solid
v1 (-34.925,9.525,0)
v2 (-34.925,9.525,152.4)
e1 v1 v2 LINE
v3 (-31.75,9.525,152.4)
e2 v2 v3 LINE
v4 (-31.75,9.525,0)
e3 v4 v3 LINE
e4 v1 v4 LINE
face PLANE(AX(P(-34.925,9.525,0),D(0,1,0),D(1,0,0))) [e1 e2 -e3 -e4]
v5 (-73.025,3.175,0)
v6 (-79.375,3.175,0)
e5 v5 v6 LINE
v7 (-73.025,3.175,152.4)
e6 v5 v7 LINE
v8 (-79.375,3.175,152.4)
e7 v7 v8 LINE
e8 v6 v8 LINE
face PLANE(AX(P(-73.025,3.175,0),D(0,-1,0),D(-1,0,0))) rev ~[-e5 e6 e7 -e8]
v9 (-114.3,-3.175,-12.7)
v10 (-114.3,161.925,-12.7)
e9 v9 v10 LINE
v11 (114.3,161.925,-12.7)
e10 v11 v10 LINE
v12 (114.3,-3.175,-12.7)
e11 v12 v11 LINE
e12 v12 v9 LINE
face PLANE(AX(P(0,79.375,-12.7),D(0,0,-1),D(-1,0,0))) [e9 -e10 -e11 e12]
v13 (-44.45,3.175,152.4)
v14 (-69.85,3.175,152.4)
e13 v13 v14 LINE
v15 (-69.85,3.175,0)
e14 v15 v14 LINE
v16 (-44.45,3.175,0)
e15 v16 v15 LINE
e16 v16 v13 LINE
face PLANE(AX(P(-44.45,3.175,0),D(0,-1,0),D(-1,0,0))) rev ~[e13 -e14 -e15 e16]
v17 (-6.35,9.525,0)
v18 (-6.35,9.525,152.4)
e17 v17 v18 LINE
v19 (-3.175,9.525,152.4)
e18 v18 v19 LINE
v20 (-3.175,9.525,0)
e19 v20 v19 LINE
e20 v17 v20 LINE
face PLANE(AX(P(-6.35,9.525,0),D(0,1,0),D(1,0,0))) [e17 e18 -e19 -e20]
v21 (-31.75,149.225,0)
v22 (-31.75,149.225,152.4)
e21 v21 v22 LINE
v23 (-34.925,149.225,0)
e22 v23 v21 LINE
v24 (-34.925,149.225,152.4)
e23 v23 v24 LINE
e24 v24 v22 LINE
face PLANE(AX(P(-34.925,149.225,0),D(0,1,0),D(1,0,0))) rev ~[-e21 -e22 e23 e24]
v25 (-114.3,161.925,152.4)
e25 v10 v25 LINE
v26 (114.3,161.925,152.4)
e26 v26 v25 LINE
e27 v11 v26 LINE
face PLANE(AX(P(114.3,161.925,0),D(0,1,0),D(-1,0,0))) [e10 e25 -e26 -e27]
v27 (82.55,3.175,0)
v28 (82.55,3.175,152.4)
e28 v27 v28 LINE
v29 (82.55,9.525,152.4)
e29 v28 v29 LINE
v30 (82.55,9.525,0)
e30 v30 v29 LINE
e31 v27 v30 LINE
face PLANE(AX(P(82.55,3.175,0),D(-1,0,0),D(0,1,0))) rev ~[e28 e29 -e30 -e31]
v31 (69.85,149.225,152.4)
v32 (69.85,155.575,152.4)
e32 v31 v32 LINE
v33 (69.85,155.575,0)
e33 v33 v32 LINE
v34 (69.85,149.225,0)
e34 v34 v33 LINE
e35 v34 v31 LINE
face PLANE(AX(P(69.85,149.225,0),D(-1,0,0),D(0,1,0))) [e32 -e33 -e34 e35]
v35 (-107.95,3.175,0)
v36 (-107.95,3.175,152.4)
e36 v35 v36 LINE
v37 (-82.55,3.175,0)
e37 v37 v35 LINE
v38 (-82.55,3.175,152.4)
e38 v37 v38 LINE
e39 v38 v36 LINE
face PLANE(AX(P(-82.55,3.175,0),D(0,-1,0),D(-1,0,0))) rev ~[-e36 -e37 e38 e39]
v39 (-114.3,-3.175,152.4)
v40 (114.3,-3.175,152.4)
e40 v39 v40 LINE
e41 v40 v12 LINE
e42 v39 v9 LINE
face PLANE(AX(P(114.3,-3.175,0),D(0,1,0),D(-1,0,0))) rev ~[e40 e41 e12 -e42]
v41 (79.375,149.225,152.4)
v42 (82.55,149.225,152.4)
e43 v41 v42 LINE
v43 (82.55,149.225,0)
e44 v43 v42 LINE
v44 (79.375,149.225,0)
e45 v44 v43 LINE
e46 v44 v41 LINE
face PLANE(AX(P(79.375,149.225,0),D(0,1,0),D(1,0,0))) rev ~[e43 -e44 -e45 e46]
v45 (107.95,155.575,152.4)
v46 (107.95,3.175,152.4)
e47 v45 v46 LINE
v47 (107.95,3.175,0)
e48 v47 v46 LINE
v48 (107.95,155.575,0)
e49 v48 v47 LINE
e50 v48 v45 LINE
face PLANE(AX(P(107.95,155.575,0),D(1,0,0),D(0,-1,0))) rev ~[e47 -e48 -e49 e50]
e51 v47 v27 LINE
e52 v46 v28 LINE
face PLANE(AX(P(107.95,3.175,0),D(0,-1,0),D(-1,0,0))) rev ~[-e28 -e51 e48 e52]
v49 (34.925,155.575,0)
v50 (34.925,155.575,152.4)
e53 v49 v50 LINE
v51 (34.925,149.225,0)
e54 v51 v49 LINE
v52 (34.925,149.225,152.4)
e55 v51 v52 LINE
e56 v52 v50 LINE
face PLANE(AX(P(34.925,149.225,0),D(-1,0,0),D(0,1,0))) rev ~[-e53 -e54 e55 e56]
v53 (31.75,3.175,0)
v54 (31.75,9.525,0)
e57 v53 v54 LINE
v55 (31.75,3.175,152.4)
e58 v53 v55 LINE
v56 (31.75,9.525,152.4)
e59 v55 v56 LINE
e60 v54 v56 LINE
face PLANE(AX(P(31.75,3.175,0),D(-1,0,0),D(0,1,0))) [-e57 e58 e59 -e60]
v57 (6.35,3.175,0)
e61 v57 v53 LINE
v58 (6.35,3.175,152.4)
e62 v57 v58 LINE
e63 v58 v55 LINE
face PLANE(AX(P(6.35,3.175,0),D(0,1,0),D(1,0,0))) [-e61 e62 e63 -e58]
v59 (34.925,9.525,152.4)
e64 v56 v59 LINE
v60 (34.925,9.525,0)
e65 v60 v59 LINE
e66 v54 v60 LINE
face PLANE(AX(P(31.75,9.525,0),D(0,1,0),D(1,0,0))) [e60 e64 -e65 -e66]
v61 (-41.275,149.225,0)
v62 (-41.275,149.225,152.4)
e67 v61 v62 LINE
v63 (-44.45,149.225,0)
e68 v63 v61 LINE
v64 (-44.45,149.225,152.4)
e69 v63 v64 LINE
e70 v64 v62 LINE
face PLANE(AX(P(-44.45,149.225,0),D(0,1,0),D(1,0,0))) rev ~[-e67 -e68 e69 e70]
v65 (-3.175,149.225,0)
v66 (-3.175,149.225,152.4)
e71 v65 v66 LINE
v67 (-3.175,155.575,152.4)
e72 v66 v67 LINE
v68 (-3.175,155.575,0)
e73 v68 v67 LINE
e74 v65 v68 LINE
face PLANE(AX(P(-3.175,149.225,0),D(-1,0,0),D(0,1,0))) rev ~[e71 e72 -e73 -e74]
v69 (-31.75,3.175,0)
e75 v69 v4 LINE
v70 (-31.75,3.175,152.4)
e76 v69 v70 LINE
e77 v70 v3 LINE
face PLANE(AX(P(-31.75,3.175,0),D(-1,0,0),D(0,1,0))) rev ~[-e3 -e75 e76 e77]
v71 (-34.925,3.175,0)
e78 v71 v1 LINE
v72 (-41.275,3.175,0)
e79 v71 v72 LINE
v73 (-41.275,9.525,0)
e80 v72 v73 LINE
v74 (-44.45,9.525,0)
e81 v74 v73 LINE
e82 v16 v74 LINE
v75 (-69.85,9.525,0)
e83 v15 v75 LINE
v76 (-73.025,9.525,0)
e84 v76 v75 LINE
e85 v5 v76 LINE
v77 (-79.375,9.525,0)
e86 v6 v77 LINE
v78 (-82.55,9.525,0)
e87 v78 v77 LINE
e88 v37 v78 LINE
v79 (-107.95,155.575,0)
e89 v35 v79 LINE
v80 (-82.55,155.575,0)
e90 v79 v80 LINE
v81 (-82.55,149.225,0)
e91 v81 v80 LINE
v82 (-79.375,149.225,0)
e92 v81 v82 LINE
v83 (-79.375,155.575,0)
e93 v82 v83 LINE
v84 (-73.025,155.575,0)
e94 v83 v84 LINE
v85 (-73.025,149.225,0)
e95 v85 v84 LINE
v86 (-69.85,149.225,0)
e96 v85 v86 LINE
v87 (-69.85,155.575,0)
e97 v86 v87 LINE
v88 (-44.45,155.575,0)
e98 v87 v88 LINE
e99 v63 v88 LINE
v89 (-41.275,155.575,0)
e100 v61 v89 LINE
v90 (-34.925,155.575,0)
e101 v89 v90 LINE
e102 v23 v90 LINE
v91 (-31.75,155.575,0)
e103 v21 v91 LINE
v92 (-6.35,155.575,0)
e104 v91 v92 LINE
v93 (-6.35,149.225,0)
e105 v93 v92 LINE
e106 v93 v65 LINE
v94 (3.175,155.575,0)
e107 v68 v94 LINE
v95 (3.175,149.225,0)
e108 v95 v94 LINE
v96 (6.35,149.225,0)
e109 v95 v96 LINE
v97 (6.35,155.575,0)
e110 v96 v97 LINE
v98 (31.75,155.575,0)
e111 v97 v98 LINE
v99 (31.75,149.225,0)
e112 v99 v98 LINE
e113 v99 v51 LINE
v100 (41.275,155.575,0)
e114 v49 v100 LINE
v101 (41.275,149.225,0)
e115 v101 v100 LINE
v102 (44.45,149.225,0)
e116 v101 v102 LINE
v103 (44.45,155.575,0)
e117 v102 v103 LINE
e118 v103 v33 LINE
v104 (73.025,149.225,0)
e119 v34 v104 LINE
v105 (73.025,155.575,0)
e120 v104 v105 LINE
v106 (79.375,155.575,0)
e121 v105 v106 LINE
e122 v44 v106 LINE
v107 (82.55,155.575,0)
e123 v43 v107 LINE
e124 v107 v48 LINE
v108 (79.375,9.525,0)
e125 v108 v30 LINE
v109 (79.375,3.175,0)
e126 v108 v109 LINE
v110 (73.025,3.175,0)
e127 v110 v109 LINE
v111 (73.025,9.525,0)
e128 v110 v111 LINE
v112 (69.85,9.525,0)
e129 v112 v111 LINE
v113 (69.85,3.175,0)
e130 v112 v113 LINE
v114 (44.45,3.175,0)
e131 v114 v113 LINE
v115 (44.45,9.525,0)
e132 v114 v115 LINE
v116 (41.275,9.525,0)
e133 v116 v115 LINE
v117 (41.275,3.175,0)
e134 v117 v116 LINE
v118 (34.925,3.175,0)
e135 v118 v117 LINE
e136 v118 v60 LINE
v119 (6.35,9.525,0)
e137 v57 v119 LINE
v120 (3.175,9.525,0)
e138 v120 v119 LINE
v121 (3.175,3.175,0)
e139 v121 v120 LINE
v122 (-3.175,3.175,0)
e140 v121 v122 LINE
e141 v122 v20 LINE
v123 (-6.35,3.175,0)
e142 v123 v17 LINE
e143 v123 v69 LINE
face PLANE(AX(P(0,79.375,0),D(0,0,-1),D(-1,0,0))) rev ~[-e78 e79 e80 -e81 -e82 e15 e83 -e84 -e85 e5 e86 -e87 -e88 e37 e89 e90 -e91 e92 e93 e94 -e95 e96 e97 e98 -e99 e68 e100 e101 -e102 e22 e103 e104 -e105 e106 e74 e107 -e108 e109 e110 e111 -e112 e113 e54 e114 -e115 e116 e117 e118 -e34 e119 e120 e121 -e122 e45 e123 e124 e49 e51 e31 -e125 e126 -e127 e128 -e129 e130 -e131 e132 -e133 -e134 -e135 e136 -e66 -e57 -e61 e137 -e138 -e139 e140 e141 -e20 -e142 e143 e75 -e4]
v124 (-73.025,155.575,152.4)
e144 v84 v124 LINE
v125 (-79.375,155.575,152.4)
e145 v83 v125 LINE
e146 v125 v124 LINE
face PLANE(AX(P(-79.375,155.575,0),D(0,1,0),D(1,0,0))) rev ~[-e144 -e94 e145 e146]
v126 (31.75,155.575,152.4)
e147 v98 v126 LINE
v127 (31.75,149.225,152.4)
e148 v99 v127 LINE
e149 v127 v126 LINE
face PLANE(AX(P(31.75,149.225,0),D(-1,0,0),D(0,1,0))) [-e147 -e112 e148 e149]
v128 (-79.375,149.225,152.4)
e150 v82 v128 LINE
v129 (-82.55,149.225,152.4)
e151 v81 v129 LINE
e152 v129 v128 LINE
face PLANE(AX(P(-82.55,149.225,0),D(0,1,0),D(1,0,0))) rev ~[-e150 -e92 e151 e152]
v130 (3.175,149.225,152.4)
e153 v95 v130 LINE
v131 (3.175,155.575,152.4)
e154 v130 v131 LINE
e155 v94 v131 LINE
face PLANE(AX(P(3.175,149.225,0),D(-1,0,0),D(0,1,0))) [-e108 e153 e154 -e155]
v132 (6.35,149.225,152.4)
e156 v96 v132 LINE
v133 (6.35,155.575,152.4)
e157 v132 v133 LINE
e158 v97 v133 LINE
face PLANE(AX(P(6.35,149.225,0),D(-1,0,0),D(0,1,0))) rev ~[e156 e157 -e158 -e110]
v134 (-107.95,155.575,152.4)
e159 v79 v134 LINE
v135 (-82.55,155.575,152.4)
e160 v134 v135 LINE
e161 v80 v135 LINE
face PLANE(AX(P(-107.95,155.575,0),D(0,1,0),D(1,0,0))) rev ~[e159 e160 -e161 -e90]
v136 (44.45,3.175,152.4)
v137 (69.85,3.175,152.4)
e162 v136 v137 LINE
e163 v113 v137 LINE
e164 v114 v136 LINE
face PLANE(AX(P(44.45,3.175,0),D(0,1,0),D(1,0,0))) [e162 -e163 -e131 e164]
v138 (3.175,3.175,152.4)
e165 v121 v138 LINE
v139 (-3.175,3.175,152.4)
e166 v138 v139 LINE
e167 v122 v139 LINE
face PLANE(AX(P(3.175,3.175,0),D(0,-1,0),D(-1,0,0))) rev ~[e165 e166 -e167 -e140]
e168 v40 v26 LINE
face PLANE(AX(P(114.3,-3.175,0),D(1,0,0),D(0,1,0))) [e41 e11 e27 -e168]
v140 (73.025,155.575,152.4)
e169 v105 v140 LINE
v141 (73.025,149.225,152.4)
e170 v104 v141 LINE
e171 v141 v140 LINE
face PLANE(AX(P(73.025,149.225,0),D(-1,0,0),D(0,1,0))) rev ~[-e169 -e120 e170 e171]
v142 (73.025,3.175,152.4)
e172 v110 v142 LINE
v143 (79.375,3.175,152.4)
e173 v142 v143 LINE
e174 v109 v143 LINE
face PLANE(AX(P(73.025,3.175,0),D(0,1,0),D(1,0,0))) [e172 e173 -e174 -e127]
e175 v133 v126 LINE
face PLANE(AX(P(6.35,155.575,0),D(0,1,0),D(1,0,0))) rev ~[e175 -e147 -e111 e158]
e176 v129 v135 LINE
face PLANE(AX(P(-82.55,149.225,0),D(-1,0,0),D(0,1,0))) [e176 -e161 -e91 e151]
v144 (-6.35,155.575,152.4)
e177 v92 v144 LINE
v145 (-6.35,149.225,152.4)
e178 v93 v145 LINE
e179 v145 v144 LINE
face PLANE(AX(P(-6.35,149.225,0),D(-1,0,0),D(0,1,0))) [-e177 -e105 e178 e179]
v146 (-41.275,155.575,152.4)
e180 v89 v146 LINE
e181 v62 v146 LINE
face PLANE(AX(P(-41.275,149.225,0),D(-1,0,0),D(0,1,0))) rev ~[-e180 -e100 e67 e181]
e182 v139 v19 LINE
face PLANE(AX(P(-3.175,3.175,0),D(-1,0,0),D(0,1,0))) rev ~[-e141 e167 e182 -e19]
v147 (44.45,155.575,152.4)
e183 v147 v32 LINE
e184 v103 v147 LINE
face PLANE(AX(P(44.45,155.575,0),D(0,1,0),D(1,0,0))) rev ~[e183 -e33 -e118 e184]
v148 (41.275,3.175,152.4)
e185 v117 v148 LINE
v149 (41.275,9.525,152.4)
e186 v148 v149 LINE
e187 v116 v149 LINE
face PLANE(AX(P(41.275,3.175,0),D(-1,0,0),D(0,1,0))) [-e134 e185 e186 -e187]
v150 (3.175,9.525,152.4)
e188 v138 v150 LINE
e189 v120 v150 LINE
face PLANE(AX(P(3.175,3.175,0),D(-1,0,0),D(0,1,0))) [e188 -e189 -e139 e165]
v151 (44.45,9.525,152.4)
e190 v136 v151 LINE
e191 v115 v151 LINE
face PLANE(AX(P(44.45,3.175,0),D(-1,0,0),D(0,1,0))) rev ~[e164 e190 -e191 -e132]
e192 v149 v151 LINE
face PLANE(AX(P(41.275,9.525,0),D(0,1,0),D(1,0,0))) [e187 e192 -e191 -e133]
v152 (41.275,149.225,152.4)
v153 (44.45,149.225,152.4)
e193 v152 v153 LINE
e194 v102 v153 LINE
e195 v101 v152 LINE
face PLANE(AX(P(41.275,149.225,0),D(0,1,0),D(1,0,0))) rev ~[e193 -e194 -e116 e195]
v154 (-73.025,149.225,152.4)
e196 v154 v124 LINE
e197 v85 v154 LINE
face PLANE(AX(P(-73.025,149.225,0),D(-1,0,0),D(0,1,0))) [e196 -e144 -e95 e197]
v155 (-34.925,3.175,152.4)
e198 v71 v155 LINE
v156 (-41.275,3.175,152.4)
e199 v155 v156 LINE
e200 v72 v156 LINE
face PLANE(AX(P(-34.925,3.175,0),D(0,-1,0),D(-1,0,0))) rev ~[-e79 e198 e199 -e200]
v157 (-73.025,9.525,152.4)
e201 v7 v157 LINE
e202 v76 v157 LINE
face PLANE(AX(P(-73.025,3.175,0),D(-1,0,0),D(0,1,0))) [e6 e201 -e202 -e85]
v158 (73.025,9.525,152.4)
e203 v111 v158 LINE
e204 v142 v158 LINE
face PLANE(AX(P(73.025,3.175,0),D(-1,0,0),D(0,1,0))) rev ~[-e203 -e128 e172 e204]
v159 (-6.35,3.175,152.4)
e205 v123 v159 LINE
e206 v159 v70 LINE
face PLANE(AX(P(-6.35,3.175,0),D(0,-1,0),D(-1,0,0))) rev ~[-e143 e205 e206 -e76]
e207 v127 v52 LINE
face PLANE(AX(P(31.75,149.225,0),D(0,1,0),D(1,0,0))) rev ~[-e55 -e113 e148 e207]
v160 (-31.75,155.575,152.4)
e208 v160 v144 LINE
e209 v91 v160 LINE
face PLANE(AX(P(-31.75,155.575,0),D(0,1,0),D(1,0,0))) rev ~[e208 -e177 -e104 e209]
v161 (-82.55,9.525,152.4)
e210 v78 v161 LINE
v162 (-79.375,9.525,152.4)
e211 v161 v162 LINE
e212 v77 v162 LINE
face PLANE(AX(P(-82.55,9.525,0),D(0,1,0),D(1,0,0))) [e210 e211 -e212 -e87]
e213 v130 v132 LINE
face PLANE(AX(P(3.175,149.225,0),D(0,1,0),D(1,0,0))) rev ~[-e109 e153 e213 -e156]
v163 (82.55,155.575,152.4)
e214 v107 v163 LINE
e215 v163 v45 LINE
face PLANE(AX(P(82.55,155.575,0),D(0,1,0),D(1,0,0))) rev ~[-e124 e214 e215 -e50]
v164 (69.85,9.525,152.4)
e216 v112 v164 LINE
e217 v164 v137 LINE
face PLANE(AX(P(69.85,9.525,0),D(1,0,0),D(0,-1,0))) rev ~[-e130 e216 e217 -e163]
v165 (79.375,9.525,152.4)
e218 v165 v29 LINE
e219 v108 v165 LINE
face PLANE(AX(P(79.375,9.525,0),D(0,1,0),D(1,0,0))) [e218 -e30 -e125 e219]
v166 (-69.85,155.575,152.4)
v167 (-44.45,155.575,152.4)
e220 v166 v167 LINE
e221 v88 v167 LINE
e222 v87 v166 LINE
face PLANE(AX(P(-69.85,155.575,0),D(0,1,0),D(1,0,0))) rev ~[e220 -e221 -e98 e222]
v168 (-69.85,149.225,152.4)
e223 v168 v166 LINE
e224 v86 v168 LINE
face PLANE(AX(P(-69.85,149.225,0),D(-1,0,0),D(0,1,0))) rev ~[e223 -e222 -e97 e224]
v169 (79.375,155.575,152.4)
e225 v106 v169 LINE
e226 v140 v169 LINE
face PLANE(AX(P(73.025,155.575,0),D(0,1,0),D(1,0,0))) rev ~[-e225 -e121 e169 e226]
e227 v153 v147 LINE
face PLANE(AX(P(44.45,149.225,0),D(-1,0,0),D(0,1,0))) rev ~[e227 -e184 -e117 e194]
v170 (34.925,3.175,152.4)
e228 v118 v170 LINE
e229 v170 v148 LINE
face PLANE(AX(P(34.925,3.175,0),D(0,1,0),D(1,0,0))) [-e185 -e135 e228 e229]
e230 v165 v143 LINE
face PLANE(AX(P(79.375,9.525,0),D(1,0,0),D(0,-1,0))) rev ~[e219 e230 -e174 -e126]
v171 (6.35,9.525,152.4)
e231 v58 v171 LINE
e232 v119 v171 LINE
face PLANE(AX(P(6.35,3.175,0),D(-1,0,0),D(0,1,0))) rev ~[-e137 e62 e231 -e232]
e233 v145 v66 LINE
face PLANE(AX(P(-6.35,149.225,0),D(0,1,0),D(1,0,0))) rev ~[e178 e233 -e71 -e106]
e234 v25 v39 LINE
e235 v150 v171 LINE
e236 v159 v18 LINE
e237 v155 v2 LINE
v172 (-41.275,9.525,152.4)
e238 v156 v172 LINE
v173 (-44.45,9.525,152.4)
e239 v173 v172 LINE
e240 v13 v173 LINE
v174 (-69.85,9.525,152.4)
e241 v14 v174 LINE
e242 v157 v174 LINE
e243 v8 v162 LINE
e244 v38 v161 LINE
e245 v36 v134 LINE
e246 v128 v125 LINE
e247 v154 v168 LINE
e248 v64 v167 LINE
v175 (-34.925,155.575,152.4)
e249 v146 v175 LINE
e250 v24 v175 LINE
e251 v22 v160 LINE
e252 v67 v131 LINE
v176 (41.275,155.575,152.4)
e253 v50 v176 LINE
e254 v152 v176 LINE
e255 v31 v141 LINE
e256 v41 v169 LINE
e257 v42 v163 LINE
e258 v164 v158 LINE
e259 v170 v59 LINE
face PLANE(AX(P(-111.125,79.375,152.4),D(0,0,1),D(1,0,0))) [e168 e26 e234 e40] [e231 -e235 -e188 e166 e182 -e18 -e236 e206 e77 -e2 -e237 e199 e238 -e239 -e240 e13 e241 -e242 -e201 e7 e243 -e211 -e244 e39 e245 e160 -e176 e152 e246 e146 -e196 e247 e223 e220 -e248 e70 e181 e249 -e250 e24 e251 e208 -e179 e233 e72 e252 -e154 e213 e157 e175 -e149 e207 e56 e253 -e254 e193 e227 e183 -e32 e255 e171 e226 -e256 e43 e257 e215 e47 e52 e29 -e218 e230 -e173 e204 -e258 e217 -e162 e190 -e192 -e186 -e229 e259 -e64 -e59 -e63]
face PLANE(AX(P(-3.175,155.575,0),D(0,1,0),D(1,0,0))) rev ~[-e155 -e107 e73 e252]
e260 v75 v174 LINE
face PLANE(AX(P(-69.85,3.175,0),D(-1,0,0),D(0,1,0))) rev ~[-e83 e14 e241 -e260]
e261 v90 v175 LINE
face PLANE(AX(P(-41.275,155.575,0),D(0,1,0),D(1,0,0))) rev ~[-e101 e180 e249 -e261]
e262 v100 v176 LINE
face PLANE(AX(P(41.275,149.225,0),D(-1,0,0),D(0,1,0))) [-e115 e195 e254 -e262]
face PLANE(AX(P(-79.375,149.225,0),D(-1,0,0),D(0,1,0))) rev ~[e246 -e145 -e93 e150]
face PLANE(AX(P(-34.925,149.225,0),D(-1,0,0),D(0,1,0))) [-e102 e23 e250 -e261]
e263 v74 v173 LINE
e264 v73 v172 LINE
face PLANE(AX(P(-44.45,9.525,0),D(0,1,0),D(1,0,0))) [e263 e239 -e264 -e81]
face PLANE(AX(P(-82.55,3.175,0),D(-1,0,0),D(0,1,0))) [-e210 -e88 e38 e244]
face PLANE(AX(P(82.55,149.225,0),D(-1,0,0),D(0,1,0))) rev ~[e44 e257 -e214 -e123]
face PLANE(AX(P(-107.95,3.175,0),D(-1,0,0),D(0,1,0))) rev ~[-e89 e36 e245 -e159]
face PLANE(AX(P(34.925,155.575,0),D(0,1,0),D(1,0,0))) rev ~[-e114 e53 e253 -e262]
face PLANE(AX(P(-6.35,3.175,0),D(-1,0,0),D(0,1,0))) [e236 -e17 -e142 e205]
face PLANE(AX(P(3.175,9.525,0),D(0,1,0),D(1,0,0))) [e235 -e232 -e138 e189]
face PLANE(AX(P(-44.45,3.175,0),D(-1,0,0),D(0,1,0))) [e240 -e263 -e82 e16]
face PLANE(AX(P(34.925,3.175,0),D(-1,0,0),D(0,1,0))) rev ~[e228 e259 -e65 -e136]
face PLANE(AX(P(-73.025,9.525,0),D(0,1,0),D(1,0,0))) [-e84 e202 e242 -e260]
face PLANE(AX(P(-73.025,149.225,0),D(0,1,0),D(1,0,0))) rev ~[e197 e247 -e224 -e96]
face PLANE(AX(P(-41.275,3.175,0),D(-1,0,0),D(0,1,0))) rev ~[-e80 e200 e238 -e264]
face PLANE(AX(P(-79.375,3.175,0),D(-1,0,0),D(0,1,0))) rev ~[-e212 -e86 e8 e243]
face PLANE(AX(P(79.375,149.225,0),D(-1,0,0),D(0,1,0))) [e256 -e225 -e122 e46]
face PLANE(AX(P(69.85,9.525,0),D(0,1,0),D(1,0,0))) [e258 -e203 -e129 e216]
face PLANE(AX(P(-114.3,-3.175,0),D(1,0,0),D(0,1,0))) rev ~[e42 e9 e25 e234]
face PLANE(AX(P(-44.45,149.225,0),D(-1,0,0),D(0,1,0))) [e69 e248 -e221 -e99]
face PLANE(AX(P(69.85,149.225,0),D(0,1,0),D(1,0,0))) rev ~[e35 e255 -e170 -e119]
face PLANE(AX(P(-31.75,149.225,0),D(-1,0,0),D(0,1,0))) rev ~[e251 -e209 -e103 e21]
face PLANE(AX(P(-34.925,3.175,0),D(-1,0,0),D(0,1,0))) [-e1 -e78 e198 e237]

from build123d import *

# Parameters (mm, degrees)
SKETCH2_W           = 6.35
SKETCH2_H           = 152.4
SKETCH2_H_2         = 6.35
SKETCH2_W_2         = 25.4
SKETCH2_W_3         = 3.175
BOSS_EXTRUDE1_DEPTH = 152.4
SKETCH3_W           = 228.6
SKETCH3_H           = 165.1
BOSS_EXTRUDE2_DEPTH = 12.7


with BuildPart() as part:
    # Sketch2 → Boss-Extrude1 (new body)
    with BuildSketch(Plane.XY):
        with Locations((-111.125, 79.375)):
            Rectangle(SKETCH2_W, SKETCH2_H)
        with Locations((-111.125, 158.75)):
            Rectangle(SKETCH2_W, SKETCH2_H_2)
        with Locations((-95.25, 158.75)):
            Rectangle(SKETCH2_W_2, SKETCH2_H_2)
        with Locations((-80.9625, 158.75)):
            Rectangle(SKETCH2_W_3, SKETCH2_H_2)
        with Locations((-76.2, 158.75)):
            Rectangle(SKETCH2_W, SKETCH2_H_2)
        with Locations((-71.4375, 158.75)):
            Rectangle(SKETCH2_W_3, SKETCH2_H_2)
        with Locations((-57.15, 158.75)):
            Rectangle(SKETCH2_W_2, SKETCH2_H_2)
        with Locations((-42.8625, 158.75)):
            Rectangle(SKETCH2_W_3, SKETCH2_H_2)
        with Locations((-42.8625, 152.4)):
            Rectangle(SKETCH2_W_3, SKETCH2_H_2)
        with Locations((-38.1, 158.75)):
            Rectangle(SKETCH2_W, SKETCH2_H_2)
        with Locations((-33.3375, 158.75)):
            Rectangle(SKETCH2_W_3, SKETCH2_H_2)
        with Locations((-33.3375, 152.4)):
            Rectangle(SKETCH2_W_3, SKETCH2_H_2)
        with Locations((-19.05, 158.75)):
            Rectangle(SKETCH2_W_2, SKETCH2_H_2)
        with Locations((-4.7625, 158.75)):
            Rectangle(SKETCH2_W_3, SKETCH2_H_2)
        with Locations((-4.7625, 152.4)):
            Rectangle(SKETCH2_W_3, SKETCH2_H_2)
        with Locations((0, 158.75)):
            Rectangle(SKETCH2_W, SKETCH2_H_2)
        with Locations((4.7625, 158.75)):
            Rectangle(SKETCH2_W_3, SKETCH2_H_2)
        with Locations((4.7625, 152.4)):
            Rectangle(SKETCH2_W_3, SKETCH2_H_2)
        with Locations((19.05, 158.75)):
            Rectangle(SKETCH2_W_2, SKETCH2_H_2)
        with Locations((33.3375, 158.75)):
            Rectangle(SKETCH2_W_3, SKETCH2_H_2)
        with Locations((38.1, 158.75)):
            Rectangle(SKETCH2_W, SKETCH2_H_2)
        with Locations((33.3375, 152.4)):
            Rectangle(SKETCH2_W_3, SKETCH2_H_2)
        with Locations((42.8625, 152.4)):
            Rectangle(SKETCH2_W_3, SKETCH2_H_2)
        with Locations((42.8625, 158.75)):
            Rectangle(SKETCH2_W_3, SKETCH2_H_2)
        with Locations((57.15, 158.75)):
            Rectangle(SKETCH2_W_2, SKETCH2_H_2)
        with Locations((71.4375, 158.75)):
            Rectangle(SKETCH2_W_3, SKETCH2_H_2)
        with Locations((71.4375, 152.4)):
            Rectangle(SKETCH2_W_3, SKETCH2_H_2)
        with Locations((76.2, 158.75)):
            Rectangle(SKETCH2_W, SKETCH2_H_2)
        with Locations((80.9625, 158.75)):
            Rectangle(SKETCH2_W_3, SKETCH2_H_2)
        with Locations((80.9625, 152.4)):
            Rectangle(SKETCH2_W_3, SKETCH2_H_2)
        with Locations((95.25, 158.75)):
            Rectangle(SKETCH2_W_2, SKETCH2_H_2)
        with Locations((111.125, 158.75)):
            Rectangle(SKETCH2_W, SKETCH2_H_2)
        with Locations((111.125, 79.375)):
            Rectangle(SKETCH2_W, SKETCH2_H)
        with Locations((-111.125, 0)):
            Rectangle(SKETCH2_W, SKETCH2_H_2)
        with Locations((-95.25, 0)):
            Rectangle(SKETCH2_W_2, SKETCH2_H_2)
        with Locations((-80.9625, 0)):
            Rectangle(SKETCH2_W_3, SKETCH2_H_2)
        with Locations((-80.9625, 6.35)):
            Rectangle(SKETCH2_W_3, SKETCH2_H_2)
        with Locations((-76.2, 0)):
            Rectangle(SKETCH2_W, SKETCH2_H_2)
        with Locations((-71.4375, 0)):
            Rectangle(SKETCH2_W_3, SKETCH2_H_2)
        with Locations((-71.4375, 6.35)):
            Rectangle(SKETCH2_W_3, SKETCH2_H_2)
        with Locations((-57.15, 0)):
            Rectangle(SKETCH2_W_2, SKETCH2_H_2)
        with Locations((-42.8625, 0)):
            Rectangle(SKETCH2_W_3, SKETCH2_H_2)
        with Locations((-42.8625, 6.35)):
            Rectangle(SKETCH2_W_3, SKETCH2_H_2)
        with Locations((-38.1, 0)):
            Rectangle(SKETCH2_W, SKETCH2_H_2)
        with Locations((-33.3375, 0)):
            Rectangle(SKETCH2_W_3, SKETCH2_H_2)
        with Locations((-33.3375, 6.35)):
            Rectangle(SKETCH2_W_3, SKETCH2_H_2)
        with Locations((-19.05, 0)):
            Rectangle(SKETCH2_W_2, SKETCH2_H_2)
        with Locations((-4.7625, 0)):
            Rectangle(SKETCH2_W_3, SKETCH2_H_2)
        with Locations((-4.7625, 6.35)):
            Rectangle(SKETCH2_W_3, SKETCH2_H_2)
        Rectangle(SKETCH2_W, SKETCH2_H_2)
        with Locations((4.7625, 0)):
            Rectangle(SKETCH2_W_3, SKETCH2_H_2)
        with Locations((4.7625, 6.35)):
            Rectangle(SKETCH2_W_3, SKETCH2_H_2)
        with Locations((19.05, 0)):
            Rectangle(SKETCH2_W_2, SKETCH2_H_2)
        with Locations((111.125, 0)):
            Rectangle(SKETCH2_W, SKETCH2_H_2)
        with Locations((95.25, 0)):
            Rectangle(SKETCH2_W_2, SKETCH2_H_2)
        with Locations((80.9625, 0)):
            Rectangle(SKETCH2_W_3, SKETCH2_H_2)
        with Locations((80.9625, 6.35)):
            Rectangle(SKETCH2_W_3, SKETCH2_H_2)
        with Locations((71.4375, 6.35)):
            Rectangle(SKETCH2_W_3, SKETCH2_H_2)
        with Locations((76.2, 0)):
            Rectangle(SKETCH2_W, SKETCH2_H_2)
        with Locations((71.4375, 0)):
            Rectangle(SKETCH2_W_3, SKETCH2_H_2)
        with Locations((57.15, 0)):
            Rectangle(SKETCH2_W_2, SKETCH2_H_2)
        with Locations((42.8625, 6.35)):
            Rectangle(SKETCH2_W_3, SKETCH2_H_2)
        with Locations((33.3375, 6.35)):
            Rectangle(SKETCH2_W_3, SKETCH2_H_2)
        with Locations((33.3375, 0)):
            Rectangle(SKETCH2_W_3, SKETCH2_H_2)
        with Locations((38.1, 0)):
            Rectangle(SKETCH2_W, SKETCH2_H_2)
        with Locations((42.8625, 0)):
            Rectangle(SKETCH2_W_3, SKETCH2_H_2)
        with Locations((-80.9625, 152.4)):
            Rectangle(SKETCH2_W_3, SKETCH2_H_2)
        with Locations((-71.4375, 152.4)):
            Rectangle(SKETCH2_W_3, SKETCH2_H_2)
    extrude(amount=BOSS_EXTRUDE1_DEPTH)

    # Sketch3 → Boss-Extrude2 (add)
    with BuildSketch(Plane(origin=(0, 0, 0), x_dir=(-1, 0, 0), z_dir=(0, 0, -1))):
        with Locations((0, 79.375)):
            Rectangle(SKETCH3_W, SKETCH3_H)
    extrude(amount=BOSS_EXTRUDE2_DEPTH)


solid = part.part
